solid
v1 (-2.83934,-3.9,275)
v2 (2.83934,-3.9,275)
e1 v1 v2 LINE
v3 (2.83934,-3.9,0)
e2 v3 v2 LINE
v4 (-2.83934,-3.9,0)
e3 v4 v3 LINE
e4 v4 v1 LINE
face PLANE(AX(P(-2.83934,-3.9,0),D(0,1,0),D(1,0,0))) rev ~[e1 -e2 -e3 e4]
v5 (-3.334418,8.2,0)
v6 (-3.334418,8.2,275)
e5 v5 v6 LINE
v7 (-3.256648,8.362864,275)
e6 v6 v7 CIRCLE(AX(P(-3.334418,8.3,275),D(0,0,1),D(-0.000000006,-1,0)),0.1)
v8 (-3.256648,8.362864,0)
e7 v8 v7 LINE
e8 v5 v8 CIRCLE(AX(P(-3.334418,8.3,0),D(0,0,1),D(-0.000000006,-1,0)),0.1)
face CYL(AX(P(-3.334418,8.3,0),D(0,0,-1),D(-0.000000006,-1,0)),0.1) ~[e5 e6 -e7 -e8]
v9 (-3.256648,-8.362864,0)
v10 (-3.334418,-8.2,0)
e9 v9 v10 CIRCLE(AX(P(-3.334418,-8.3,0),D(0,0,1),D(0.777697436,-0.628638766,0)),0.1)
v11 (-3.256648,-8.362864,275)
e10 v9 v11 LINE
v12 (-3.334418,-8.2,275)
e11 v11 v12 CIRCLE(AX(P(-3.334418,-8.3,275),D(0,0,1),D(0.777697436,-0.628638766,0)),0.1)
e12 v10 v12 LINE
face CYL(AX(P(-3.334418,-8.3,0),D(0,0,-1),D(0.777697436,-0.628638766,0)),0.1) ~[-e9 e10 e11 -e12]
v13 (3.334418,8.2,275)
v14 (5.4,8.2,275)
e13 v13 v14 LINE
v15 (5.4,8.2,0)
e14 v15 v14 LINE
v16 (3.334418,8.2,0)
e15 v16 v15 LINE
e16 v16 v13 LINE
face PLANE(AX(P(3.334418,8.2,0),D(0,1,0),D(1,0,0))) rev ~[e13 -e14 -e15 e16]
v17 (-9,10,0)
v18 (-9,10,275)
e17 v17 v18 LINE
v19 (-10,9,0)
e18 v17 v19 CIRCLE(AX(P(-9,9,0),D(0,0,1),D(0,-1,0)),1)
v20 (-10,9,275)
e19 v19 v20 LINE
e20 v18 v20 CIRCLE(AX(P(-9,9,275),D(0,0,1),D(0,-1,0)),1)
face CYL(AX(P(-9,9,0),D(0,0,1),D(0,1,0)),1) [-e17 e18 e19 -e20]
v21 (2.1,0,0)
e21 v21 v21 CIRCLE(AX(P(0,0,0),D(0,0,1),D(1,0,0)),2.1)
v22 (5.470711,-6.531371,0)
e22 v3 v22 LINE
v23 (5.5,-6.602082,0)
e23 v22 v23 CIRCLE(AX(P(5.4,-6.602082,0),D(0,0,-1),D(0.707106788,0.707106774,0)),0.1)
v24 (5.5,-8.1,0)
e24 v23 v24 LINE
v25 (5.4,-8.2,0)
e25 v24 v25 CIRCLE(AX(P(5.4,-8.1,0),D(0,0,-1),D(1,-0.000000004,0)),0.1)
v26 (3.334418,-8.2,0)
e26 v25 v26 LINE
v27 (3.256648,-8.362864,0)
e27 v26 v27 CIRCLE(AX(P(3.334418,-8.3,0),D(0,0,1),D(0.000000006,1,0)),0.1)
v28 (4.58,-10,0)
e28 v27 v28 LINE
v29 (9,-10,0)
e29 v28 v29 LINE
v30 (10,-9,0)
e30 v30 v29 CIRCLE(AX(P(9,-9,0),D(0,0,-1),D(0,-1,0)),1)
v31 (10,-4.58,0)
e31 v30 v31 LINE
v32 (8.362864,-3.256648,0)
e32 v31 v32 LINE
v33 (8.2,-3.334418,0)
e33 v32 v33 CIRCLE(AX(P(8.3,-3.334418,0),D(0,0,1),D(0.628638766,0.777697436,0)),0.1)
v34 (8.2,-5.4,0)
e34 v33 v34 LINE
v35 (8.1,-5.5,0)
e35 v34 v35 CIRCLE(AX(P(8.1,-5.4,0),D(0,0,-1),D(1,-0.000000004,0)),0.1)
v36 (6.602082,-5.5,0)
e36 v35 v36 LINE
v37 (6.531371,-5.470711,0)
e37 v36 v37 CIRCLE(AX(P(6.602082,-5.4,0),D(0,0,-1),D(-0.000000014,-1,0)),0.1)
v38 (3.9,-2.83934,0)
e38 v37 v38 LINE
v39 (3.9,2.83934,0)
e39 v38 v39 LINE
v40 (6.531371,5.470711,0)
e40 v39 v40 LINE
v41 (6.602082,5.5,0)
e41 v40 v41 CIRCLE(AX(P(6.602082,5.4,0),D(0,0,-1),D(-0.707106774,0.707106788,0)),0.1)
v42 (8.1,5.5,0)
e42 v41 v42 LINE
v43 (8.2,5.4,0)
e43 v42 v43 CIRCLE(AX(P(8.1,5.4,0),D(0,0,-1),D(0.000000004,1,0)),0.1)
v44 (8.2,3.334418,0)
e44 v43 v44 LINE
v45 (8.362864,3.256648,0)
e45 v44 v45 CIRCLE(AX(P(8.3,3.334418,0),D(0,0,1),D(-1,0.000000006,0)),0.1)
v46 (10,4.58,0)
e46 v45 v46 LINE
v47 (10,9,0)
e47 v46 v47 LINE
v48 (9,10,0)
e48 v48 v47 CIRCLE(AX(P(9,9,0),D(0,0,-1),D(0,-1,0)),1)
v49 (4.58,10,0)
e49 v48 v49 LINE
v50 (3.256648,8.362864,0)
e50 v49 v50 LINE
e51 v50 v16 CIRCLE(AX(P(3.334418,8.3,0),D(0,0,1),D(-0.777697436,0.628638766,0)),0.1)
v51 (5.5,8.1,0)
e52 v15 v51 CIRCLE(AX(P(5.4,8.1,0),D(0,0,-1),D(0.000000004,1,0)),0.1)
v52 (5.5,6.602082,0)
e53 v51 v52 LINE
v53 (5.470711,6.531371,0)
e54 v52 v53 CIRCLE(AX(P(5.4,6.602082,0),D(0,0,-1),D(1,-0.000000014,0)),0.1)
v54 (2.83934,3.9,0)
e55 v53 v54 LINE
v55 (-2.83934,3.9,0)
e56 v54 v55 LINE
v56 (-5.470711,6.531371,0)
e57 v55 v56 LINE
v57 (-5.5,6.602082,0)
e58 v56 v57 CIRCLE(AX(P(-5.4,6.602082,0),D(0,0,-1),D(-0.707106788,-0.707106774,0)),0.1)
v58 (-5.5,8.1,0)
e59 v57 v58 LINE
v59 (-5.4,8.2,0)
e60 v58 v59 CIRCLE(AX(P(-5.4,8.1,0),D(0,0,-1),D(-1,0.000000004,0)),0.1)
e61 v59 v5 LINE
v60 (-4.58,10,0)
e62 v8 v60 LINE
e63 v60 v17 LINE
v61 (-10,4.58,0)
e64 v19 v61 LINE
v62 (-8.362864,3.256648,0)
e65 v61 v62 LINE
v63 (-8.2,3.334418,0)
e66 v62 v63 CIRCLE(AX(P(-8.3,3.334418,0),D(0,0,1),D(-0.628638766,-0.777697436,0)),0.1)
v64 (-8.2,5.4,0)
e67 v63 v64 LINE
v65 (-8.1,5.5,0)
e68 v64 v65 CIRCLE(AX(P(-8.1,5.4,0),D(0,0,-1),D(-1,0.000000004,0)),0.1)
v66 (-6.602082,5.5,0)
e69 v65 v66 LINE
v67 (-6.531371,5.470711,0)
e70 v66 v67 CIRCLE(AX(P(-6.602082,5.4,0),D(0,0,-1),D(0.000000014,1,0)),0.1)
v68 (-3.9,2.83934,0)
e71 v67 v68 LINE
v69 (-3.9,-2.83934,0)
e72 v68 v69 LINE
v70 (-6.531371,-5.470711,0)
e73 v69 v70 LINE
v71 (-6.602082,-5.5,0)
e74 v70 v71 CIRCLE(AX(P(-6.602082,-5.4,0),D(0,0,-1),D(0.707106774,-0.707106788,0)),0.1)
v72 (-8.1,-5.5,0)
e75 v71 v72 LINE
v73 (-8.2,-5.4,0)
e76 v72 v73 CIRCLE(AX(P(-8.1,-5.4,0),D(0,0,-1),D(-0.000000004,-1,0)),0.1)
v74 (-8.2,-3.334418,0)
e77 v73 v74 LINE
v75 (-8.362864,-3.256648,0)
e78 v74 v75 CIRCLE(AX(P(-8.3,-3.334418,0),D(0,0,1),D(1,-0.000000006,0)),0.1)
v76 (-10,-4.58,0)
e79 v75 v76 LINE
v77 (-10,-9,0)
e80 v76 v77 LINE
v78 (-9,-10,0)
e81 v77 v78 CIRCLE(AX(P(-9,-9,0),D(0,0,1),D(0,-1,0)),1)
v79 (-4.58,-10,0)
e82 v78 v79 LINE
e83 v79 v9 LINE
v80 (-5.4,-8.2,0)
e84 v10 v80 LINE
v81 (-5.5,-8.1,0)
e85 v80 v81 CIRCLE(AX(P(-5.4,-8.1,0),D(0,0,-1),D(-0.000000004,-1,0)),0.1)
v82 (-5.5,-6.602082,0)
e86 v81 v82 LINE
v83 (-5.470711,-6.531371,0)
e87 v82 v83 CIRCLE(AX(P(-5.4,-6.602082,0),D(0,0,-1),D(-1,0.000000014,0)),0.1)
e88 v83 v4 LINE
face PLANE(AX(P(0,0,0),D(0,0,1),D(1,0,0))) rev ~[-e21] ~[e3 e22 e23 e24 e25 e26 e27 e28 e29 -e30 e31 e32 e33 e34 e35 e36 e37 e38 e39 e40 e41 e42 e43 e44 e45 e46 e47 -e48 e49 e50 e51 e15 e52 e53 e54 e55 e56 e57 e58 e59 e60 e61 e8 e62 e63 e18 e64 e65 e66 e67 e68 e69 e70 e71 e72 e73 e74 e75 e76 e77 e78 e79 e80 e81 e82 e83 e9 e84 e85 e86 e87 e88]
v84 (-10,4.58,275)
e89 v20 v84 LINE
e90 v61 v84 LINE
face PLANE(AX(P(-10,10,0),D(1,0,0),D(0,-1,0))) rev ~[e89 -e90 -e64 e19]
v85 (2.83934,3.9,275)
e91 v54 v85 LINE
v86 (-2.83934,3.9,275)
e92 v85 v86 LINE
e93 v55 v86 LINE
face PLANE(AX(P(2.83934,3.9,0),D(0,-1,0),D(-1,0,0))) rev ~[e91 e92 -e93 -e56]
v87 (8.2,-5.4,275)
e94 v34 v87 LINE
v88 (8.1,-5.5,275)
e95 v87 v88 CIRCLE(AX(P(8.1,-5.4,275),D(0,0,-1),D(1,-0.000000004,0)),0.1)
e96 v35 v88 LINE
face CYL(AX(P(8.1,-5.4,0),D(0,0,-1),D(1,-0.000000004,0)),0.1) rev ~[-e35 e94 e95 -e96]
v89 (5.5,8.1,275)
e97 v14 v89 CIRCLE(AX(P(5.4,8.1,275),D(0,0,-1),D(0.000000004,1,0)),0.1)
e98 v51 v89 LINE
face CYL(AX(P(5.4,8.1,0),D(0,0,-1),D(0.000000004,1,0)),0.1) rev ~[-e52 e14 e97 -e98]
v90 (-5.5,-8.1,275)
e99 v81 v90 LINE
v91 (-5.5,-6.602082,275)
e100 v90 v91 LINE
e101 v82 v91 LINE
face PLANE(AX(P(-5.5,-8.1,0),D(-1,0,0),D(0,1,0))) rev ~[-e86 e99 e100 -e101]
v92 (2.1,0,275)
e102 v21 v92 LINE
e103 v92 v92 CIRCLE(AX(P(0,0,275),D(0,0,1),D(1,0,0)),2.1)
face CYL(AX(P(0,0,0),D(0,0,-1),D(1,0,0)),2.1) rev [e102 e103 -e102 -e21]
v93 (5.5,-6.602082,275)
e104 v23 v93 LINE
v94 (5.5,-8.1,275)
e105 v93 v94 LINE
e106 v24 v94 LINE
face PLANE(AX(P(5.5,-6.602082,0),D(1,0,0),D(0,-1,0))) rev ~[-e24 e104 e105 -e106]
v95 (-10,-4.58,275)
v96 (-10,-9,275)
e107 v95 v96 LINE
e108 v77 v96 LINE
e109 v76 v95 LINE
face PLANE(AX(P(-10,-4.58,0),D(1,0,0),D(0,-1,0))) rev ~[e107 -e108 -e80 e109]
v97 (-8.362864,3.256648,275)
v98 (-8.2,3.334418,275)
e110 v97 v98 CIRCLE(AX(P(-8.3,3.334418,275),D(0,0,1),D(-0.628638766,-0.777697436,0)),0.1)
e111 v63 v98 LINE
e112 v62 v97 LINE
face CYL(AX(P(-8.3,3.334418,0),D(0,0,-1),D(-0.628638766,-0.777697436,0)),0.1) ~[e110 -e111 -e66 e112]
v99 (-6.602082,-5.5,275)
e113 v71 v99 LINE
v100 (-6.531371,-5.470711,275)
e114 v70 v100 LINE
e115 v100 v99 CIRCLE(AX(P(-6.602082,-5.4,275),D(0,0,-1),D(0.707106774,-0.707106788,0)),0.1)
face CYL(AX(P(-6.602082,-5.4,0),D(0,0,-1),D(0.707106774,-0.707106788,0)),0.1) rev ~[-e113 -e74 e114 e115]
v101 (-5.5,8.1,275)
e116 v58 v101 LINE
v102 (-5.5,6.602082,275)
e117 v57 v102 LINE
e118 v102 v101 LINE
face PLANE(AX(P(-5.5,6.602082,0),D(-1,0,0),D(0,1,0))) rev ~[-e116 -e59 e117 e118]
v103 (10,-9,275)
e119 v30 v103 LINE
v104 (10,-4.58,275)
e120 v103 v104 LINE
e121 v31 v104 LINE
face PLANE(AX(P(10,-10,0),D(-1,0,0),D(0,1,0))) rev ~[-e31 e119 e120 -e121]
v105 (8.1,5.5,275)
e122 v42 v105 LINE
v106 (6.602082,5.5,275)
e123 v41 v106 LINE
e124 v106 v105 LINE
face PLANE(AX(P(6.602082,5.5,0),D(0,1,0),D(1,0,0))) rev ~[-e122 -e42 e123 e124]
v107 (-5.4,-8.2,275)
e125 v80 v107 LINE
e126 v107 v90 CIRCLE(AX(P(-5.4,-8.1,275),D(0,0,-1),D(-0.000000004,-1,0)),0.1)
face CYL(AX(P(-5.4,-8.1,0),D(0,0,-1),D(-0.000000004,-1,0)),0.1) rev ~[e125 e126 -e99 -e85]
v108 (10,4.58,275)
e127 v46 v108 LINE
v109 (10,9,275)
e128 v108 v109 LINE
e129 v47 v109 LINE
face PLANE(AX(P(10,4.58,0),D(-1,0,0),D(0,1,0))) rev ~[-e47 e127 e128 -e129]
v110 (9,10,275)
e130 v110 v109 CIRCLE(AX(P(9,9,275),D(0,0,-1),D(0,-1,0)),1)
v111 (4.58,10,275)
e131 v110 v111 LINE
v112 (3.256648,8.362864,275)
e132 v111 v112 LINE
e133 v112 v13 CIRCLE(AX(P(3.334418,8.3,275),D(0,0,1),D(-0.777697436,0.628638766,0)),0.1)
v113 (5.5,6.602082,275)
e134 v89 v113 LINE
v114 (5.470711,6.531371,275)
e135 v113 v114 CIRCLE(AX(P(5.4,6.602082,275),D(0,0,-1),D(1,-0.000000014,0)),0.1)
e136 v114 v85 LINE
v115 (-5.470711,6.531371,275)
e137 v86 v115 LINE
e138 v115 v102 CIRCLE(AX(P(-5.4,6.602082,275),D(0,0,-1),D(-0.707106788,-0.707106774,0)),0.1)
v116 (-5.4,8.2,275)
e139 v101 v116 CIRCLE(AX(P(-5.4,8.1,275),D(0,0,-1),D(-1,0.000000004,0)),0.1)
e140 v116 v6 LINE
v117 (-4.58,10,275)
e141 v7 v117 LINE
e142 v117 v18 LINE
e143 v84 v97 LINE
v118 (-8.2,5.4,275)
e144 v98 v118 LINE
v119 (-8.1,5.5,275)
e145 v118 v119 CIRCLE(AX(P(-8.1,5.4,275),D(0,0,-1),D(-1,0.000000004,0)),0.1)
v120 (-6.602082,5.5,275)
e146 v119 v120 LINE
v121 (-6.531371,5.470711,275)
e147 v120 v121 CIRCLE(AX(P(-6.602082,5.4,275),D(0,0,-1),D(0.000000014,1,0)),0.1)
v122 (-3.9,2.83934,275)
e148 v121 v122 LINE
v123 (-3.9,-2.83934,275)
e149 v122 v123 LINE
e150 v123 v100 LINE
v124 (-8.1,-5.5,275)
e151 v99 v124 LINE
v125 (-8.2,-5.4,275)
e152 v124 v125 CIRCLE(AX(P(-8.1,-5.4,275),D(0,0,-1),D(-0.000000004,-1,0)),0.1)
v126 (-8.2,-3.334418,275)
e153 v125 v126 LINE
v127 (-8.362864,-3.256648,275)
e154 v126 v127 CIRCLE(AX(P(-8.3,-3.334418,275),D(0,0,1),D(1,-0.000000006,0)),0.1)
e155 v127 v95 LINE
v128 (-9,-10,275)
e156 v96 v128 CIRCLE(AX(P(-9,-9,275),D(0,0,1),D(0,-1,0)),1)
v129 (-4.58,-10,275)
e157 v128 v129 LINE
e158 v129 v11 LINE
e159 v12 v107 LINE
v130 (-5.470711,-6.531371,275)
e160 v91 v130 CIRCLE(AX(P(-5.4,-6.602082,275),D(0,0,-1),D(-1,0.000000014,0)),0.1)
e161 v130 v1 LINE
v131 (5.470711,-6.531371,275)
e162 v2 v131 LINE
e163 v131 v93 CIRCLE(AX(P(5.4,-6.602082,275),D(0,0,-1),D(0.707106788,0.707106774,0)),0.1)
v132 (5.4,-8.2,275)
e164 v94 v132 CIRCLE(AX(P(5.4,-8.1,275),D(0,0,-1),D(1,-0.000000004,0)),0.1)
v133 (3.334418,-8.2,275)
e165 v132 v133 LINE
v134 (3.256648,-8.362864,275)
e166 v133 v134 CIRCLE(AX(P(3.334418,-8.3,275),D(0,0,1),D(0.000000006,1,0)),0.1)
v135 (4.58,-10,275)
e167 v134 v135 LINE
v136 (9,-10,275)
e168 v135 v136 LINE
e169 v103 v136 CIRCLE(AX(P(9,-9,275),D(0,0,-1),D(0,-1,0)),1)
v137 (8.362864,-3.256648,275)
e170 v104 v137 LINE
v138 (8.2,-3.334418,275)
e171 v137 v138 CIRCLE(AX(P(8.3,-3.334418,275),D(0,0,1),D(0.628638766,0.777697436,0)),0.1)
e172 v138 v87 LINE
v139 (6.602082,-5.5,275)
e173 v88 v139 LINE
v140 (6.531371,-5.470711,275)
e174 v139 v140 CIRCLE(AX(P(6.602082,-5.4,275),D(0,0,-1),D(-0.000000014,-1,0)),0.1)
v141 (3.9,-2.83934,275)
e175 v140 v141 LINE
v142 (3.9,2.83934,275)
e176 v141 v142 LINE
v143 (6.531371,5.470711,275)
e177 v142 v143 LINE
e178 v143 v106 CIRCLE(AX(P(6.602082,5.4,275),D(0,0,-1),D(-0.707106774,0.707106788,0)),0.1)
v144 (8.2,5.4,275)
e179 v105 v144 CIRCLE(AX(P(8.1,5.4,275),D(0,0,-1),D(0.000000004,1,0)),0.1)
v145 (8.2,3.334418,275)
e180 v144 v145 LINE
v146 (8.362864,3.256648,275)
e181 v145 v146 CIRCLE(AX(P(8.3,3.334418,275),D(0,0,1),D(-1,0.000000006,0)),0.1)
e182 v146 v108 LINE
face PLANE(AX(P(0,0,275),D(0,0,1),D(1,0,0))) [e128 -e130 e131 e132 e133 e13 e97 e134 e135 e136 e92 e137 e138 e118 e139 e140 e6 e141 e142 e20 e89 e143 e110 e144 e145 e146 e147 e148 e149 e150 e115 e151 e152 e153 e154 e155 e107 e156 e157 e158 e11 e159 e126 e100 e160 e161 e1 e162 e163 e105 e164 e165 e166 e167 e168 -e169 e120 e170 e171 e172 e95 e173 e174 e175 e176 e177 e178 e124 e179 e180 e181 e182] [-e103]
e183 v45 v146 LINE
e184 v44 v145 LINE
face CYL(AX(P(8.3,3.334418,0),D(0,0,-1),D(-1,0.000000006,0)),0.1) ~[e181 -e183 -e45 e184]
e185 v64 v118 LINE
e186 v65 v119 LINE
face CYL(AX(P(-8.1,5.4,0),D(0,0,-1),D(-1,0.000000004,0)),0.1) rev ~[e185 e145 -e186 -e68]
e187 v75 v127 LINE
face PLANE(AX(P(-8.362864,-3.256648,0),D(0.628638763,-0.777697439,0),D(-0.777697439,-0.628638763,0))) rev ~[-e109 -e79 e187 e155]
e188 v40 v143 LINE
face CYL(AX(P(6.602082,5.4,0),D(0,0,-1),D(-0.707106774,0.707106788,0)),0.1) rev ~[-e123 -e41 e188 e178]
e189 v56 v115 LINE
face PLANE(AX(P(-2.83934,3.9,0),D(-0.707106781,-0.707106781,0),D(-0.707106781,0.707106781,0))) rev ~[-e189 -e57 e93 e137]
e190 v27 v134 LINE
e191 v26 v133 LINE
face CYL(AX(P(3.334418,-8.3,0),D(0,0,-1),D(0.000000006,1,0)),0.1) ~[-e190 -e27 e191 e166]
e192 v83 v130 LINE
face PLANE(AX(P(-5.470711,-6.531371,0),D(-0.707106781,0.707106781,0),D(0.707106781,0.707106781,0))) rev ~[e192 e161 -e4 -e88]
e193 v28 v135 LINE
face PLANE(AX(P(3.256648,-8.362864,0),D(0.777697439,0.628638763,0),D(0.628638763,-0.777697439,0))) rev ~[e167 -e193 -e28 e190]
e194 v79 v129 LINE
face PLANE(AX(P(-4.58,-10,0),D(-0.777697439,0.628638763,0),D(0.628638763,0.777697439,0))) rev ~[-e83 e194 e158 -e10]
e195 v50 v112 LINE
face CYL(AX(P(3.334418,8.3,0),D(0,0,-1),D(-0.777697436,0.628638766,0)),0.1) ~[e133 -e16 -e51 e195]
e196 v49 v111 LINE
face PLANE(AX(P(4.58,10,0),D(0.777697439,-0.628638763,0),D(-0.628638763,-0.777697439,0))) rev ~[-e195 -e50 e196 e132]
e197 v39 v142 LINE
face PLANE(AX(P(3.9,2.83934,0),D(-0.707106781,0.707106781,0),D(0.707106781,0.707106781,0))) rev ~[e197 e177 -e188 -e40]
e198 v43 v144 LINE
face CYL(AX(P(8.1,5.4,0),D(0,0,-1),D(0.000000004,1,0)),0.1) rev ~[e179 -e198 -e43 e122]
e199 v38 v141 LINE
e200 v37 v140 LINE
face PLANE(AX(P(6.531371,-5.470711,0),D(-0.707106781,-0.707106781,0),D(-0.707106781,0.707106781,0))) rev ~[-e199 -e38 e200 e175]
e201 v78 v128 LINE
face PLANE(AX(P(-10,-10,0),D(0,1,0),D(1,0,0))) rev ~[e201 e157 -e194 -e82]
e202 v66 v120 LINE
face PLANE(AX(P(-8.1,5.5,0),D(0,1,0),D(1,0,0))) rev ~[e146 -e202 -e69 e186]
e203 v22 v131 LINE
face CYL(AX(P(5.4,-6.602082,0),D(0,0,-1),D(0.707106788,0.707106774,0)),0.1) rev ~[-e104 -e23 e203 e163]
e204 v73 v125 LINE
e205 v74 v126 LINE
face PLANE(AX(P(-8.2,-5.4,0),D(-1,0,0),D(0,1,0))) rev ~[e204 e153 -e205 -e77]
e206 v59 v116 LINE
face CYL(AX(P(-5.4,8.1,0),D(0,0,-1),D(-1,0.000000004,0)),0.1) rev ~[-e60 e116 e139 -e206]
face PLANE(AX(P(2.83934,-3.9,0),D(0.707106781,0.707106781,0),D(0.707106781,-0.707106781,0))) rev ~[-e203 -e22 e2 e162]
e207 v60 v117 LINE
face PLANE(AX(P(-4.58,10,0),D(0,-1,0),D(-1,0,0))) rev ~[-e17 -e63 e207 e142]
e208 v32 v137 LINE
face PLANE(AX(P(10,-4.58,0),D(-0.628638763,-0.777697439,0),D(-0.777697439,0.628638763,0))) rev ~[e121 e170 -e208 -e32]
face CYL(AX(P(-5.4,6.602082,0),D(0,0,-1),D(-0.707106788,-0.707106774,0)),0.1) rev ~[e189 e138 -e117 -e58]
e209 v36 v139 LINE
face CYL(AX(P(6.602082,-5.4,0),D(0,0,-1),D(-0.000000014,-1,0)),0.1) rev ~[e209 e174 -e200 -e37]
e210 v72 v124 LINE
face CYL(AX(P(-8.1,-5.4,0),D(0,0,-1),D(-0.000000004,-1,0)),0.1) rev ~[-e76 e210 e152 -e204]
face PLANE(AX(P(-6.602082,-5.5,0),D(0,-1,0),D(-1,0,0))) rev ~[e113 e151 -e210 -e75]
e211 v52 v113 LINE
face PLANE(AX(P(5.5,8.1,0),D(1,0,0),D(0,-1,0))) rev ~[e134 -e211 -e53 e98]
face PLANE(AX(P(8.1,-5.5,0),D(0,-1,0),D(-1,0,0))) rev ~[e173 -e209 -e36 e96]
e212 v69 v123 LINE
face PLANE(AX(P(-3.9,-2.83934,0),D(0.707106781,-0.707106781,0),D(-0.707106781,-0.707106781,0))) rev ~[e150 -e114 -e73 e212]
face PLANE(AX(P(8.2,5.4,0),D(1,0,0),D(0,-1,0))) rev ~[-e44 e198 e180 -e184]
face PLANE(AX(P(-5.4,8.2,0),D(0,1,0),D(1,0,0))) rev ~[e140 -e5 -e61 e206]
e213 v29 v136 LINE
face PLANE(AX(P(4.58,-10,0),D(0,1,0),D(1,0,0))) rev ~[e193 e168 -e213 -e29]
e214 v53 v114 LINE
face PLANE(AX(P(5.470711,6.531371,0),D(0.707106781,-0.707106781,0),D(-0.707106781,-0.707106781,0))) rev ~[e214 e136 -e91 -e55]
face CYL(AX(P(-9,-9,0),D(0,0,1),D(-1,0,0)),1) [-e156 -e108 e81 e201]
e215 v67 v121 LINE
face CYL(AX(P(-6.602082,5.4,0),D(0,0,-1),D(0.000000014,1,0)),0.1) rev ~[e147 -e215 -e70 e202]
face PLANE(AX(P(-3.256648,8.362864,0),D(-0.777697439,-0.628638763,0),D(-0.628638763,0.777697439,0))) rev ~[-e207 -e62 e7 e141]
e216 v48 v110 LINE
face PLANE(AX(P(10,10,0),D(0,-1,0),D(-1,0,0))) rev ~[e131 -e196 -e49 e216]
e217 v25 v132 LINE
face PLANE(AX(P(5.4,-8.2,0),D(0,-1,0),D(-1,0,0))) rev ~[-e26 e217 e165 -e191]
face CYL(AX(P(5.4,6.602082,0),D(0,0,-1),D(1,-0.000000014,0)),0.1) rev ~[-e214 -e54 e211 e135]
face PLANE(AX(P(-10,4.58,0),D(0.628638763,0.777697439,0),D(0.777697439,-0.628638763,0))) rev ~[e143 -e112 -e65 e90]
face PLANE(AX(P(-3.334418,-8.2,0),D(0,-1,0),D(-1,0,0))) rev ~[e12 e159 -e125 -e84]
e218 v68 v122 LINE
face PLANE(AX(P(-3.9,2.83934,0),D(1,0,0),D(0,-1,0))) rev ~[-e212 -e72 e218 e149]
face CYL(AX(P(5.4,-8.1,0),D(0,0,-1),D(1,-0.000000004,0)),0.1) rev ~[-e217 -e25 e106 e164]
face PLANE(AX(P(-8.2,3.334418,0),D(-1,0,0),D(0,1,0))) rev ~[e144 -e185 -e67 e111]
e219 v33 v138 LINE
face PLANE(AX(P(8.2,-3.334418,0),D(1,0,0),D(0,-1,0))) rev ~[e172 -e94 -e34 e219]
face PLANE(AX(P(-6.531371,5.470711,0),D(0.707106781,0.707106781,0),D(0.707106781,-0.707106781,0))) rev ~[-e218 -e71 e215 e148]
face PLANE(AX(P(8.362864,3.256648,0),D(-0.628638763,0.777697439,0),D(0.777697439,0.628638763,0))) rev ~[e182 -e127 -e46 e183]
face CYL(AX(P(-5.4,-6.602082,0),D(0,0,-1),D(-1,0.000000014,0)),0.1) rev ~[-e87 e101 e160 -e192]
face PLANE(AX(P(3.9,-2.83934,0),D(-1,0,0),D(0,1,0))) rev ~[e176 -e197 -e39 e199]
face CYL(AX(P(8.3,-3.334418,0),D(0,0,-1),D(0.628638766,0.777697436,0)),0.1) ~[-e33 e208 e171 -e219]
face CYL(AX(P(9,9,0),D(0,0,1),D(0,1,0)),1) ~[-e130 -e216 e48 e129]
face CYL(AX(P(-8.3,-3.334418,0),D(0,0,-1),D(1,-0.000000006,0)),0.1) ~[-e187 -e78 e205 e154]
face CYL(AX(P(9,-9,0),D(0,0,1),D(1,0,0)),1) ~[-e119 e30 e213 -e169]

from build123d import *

# Parameters (mm, degrees)
SKETCH1_R           = 2.1
BOSS_EXTRUDE1_DEPTH = 275
FILLET1_R           = 1


with BuildPart() as part:
    # Sketch1 → Boss-Extrude1 (new body)
    with BuildSketch(Plane.XY):
        with BuildLine():
            Line((-2.839339828, 3.9), (-5.470710678, 6.53137085))
            ThreePointArc((-5.470710678, 6.53137085), (-5.492387953, 6.563813185), (-5.5, 6.602081528))
            Line((-5.5, 6.602081528), (-5.5, 8.1))
            ThreePointArc((-5.5, 8.1), (-5.470710678, 8.170710678), (-5.4, 8.2))
            Line((-5.4, 8.2), (-3.334418044, 8.2))
            ThreePointArc((-3.334418044, 8.2), (-3.244178397, 8.256909326), (-3.2566483, 8.362863876))
            Line((-3.2566483, 8.362863876), (-4.58, 10))
            Line((-4.58, 10), (-10, 10))
            Line((-10, 10), (-10, 4.58))
            Line((-10, 4.58), (-8.362863876, 3.2566483))
            ThreePointArc((-8.362863876, 3.2566483), (-8.256909326, 3.244178397), (-8.2, 3.334418044))
            Line((-8.2, 3.334418044), (-8.2, 5.4))
            ThreePointArc((-8.2, 5.4), (-8.170710678, 5.470710678), (-8.1, 5.5))
            Line((-8.1, 5.5), (-6.602081528, 5.5))
            ThreePointArc((-6.602081528, 5.5), (-6.563813185, 5.492387953), (-6.53137085, 5.470710678))
            Line((-6.53137085, 5.470710678), (-3.9, 2.839339828))
            Line((-3.9, 2.839339828), (-3.9, -2.839339828))
            Line((-3.9, -2.839339828), (-6.53137085, -5.470710678))
            ThreePointArc((-6.53137085, -5.470710678), (-6.563813185, -5.492387953), (-6.602081528, -5.5))
            Line((-6.602081528, -5.5), (-8.1, -5.5))
            ThreePointArc((-8.1, -5.5), (-8.170710678, -5.470710678), (-8.2, -5.4))
            Line((-8.2, -5.4), (-8.2, -3.334418044))
            ThreePointArc((-8.2, -3.334418044), (-8.256909326, -3.244178397), (-8.362863876, -3.2566483))
            Line((-8.362863876, -3.2566483), (-10, -4.58))
            Line((-10, -4.58), (-10, -10))
            Line((-10, -10), (-4.58, -10))
            Line((-4.58, -10), (-3.2566483, -8.362863876))
            ThreePointArc((-3.2566483, -8.362863876), (-3.244178397, -8.256909326), (-3.334418044, -8.2))
            Line((-3.334418044, -8.2), (-5.4, -8.2))
            ThreePointArc((-5.4, -8.2), (-5.470710678, -8.170710678), (-5.5, -8.1))
            Line((-5.5, -8.1), (-5.5, -6.602081528))
            ThreePointArc((-5.5, -6.602081528), (-5.492387953, -6.563813185), (-5.470710678, -6.53137085))
            Line((-5.470710678, -6.53137085), (-2.839339828, -3.9))
            Line((-2.839339828, -3.9), (2.839339828, -3.9))
            Line((2.839339828, -3.9), (5.470710678, -6.53137085))
            ThreePointArc((5.470710678, -6.53137085), (5.492387953, -6.563813185), (5.5, -6.602081528))
            Line((5.5, -6.602081528), (5.5, -8.1))
            ThreePointArc((5.5, -8.1), (5.470710678, -8.170710678), (5.4, -8.2))
            Line((5.4, -8.2), (3.334418044, -8.2))
            ThreePointArc((3.334418044, -8.2), (3.244178397, -8.256909326), (3.2566483, -8.362863876))
            Line((3.2566483, -8.362863876), (4.58, -10))
            Line((4.58, -10), (10, -10))
            Line((10, -10), (10, -4.58))
            Line((10, -4.58), (8.362863876, -3.2566483))
            ThreePointArc((8.362863876, -3.2566483), (8.256909326, -3.244178397), (8.2, -3.334418044))
            Line((8.2, -3.334418044), (8.2, -5.4))
            ThreePointArc((8.2, -5.4), (8.170710678, -5.470710678), (8.1, -5.5))
            Line((8.1, -5.5), (6.602081528, -5.5))
            ThreePointArc((6.602081528, -5.5), (6.563813185, -5.492387953), (6.53137085, -5.470710678))
            Line((6.53137085, -5.470710678), (3.9, -2.839339828))
            Line((3.9, -2.839339828), (3.9, 2.839339828))
            Line((3.9, 2.839339828), (6.53137085, 5.470710678))
            ThreePointArc((6.53137085, 5.470710678), (6.563813185, 5.492387953), (6.602081528, 5.5))
            Line((6.602081528, 5.5), (8.1, 5.5))
            ThreePointArc((8.1, 5.5), (8.170710678, 5.470710678), (8.2, 5.4))
            Line((8.2, 5.4), (8.2, 3.334418044))
            ThreePointArc((8.2, 3.334418044), (8.256909326, 3.244178397), (8.362863876, 3.2566483))
            Line((8.362863876, 3.2566483), (10, 4.58))
            Line((10, 4.58), (10, 10))
            Line((10, 10), (4.58, 10))
            Line((4.58, 10), (3.2566483, 8.362863876))
            ThreePointArc((3.2566483, 8.362863876), (3.244178397, 8.256909326), (3.334418044, 8.2))
            Line((3.334418044, 8.2), (5.4, 8.2))
            ThreePointArc((5.4, 8.2), (5.470710678, 8.170710678), (5.5, 8.1))
            Line((5.5, 8.1), (5.5, 6.602081528))
            ThreePointArc((5.5, 6.602081528), (5.492387953, 6.563813185), (5.470710678, 6.53137085))
            Line((5.470710678, 6.53137085), (2.839339828, 3.9))
            Line((2.839339828, 3.9), (-2.839339828, 3.9))
        make_face()
        Circle(SKETCH1_R, mode=Mode.SUBTRACT)
    extrude(amount=BOSS_EXTRUDE1_DEPTH)

    # Fillet1
    fillet1_edges = [part.edges().sort_by_distance(p)[0] for p in [
        (10, -10, 137.5),
        (-10, -10, 137.5),
        (-10, 10, 137.5),
        (10, 10, 137.5),
    ]]
    fillet(fillet1_edges, radius=FILLET1_R)


solid = part.part
